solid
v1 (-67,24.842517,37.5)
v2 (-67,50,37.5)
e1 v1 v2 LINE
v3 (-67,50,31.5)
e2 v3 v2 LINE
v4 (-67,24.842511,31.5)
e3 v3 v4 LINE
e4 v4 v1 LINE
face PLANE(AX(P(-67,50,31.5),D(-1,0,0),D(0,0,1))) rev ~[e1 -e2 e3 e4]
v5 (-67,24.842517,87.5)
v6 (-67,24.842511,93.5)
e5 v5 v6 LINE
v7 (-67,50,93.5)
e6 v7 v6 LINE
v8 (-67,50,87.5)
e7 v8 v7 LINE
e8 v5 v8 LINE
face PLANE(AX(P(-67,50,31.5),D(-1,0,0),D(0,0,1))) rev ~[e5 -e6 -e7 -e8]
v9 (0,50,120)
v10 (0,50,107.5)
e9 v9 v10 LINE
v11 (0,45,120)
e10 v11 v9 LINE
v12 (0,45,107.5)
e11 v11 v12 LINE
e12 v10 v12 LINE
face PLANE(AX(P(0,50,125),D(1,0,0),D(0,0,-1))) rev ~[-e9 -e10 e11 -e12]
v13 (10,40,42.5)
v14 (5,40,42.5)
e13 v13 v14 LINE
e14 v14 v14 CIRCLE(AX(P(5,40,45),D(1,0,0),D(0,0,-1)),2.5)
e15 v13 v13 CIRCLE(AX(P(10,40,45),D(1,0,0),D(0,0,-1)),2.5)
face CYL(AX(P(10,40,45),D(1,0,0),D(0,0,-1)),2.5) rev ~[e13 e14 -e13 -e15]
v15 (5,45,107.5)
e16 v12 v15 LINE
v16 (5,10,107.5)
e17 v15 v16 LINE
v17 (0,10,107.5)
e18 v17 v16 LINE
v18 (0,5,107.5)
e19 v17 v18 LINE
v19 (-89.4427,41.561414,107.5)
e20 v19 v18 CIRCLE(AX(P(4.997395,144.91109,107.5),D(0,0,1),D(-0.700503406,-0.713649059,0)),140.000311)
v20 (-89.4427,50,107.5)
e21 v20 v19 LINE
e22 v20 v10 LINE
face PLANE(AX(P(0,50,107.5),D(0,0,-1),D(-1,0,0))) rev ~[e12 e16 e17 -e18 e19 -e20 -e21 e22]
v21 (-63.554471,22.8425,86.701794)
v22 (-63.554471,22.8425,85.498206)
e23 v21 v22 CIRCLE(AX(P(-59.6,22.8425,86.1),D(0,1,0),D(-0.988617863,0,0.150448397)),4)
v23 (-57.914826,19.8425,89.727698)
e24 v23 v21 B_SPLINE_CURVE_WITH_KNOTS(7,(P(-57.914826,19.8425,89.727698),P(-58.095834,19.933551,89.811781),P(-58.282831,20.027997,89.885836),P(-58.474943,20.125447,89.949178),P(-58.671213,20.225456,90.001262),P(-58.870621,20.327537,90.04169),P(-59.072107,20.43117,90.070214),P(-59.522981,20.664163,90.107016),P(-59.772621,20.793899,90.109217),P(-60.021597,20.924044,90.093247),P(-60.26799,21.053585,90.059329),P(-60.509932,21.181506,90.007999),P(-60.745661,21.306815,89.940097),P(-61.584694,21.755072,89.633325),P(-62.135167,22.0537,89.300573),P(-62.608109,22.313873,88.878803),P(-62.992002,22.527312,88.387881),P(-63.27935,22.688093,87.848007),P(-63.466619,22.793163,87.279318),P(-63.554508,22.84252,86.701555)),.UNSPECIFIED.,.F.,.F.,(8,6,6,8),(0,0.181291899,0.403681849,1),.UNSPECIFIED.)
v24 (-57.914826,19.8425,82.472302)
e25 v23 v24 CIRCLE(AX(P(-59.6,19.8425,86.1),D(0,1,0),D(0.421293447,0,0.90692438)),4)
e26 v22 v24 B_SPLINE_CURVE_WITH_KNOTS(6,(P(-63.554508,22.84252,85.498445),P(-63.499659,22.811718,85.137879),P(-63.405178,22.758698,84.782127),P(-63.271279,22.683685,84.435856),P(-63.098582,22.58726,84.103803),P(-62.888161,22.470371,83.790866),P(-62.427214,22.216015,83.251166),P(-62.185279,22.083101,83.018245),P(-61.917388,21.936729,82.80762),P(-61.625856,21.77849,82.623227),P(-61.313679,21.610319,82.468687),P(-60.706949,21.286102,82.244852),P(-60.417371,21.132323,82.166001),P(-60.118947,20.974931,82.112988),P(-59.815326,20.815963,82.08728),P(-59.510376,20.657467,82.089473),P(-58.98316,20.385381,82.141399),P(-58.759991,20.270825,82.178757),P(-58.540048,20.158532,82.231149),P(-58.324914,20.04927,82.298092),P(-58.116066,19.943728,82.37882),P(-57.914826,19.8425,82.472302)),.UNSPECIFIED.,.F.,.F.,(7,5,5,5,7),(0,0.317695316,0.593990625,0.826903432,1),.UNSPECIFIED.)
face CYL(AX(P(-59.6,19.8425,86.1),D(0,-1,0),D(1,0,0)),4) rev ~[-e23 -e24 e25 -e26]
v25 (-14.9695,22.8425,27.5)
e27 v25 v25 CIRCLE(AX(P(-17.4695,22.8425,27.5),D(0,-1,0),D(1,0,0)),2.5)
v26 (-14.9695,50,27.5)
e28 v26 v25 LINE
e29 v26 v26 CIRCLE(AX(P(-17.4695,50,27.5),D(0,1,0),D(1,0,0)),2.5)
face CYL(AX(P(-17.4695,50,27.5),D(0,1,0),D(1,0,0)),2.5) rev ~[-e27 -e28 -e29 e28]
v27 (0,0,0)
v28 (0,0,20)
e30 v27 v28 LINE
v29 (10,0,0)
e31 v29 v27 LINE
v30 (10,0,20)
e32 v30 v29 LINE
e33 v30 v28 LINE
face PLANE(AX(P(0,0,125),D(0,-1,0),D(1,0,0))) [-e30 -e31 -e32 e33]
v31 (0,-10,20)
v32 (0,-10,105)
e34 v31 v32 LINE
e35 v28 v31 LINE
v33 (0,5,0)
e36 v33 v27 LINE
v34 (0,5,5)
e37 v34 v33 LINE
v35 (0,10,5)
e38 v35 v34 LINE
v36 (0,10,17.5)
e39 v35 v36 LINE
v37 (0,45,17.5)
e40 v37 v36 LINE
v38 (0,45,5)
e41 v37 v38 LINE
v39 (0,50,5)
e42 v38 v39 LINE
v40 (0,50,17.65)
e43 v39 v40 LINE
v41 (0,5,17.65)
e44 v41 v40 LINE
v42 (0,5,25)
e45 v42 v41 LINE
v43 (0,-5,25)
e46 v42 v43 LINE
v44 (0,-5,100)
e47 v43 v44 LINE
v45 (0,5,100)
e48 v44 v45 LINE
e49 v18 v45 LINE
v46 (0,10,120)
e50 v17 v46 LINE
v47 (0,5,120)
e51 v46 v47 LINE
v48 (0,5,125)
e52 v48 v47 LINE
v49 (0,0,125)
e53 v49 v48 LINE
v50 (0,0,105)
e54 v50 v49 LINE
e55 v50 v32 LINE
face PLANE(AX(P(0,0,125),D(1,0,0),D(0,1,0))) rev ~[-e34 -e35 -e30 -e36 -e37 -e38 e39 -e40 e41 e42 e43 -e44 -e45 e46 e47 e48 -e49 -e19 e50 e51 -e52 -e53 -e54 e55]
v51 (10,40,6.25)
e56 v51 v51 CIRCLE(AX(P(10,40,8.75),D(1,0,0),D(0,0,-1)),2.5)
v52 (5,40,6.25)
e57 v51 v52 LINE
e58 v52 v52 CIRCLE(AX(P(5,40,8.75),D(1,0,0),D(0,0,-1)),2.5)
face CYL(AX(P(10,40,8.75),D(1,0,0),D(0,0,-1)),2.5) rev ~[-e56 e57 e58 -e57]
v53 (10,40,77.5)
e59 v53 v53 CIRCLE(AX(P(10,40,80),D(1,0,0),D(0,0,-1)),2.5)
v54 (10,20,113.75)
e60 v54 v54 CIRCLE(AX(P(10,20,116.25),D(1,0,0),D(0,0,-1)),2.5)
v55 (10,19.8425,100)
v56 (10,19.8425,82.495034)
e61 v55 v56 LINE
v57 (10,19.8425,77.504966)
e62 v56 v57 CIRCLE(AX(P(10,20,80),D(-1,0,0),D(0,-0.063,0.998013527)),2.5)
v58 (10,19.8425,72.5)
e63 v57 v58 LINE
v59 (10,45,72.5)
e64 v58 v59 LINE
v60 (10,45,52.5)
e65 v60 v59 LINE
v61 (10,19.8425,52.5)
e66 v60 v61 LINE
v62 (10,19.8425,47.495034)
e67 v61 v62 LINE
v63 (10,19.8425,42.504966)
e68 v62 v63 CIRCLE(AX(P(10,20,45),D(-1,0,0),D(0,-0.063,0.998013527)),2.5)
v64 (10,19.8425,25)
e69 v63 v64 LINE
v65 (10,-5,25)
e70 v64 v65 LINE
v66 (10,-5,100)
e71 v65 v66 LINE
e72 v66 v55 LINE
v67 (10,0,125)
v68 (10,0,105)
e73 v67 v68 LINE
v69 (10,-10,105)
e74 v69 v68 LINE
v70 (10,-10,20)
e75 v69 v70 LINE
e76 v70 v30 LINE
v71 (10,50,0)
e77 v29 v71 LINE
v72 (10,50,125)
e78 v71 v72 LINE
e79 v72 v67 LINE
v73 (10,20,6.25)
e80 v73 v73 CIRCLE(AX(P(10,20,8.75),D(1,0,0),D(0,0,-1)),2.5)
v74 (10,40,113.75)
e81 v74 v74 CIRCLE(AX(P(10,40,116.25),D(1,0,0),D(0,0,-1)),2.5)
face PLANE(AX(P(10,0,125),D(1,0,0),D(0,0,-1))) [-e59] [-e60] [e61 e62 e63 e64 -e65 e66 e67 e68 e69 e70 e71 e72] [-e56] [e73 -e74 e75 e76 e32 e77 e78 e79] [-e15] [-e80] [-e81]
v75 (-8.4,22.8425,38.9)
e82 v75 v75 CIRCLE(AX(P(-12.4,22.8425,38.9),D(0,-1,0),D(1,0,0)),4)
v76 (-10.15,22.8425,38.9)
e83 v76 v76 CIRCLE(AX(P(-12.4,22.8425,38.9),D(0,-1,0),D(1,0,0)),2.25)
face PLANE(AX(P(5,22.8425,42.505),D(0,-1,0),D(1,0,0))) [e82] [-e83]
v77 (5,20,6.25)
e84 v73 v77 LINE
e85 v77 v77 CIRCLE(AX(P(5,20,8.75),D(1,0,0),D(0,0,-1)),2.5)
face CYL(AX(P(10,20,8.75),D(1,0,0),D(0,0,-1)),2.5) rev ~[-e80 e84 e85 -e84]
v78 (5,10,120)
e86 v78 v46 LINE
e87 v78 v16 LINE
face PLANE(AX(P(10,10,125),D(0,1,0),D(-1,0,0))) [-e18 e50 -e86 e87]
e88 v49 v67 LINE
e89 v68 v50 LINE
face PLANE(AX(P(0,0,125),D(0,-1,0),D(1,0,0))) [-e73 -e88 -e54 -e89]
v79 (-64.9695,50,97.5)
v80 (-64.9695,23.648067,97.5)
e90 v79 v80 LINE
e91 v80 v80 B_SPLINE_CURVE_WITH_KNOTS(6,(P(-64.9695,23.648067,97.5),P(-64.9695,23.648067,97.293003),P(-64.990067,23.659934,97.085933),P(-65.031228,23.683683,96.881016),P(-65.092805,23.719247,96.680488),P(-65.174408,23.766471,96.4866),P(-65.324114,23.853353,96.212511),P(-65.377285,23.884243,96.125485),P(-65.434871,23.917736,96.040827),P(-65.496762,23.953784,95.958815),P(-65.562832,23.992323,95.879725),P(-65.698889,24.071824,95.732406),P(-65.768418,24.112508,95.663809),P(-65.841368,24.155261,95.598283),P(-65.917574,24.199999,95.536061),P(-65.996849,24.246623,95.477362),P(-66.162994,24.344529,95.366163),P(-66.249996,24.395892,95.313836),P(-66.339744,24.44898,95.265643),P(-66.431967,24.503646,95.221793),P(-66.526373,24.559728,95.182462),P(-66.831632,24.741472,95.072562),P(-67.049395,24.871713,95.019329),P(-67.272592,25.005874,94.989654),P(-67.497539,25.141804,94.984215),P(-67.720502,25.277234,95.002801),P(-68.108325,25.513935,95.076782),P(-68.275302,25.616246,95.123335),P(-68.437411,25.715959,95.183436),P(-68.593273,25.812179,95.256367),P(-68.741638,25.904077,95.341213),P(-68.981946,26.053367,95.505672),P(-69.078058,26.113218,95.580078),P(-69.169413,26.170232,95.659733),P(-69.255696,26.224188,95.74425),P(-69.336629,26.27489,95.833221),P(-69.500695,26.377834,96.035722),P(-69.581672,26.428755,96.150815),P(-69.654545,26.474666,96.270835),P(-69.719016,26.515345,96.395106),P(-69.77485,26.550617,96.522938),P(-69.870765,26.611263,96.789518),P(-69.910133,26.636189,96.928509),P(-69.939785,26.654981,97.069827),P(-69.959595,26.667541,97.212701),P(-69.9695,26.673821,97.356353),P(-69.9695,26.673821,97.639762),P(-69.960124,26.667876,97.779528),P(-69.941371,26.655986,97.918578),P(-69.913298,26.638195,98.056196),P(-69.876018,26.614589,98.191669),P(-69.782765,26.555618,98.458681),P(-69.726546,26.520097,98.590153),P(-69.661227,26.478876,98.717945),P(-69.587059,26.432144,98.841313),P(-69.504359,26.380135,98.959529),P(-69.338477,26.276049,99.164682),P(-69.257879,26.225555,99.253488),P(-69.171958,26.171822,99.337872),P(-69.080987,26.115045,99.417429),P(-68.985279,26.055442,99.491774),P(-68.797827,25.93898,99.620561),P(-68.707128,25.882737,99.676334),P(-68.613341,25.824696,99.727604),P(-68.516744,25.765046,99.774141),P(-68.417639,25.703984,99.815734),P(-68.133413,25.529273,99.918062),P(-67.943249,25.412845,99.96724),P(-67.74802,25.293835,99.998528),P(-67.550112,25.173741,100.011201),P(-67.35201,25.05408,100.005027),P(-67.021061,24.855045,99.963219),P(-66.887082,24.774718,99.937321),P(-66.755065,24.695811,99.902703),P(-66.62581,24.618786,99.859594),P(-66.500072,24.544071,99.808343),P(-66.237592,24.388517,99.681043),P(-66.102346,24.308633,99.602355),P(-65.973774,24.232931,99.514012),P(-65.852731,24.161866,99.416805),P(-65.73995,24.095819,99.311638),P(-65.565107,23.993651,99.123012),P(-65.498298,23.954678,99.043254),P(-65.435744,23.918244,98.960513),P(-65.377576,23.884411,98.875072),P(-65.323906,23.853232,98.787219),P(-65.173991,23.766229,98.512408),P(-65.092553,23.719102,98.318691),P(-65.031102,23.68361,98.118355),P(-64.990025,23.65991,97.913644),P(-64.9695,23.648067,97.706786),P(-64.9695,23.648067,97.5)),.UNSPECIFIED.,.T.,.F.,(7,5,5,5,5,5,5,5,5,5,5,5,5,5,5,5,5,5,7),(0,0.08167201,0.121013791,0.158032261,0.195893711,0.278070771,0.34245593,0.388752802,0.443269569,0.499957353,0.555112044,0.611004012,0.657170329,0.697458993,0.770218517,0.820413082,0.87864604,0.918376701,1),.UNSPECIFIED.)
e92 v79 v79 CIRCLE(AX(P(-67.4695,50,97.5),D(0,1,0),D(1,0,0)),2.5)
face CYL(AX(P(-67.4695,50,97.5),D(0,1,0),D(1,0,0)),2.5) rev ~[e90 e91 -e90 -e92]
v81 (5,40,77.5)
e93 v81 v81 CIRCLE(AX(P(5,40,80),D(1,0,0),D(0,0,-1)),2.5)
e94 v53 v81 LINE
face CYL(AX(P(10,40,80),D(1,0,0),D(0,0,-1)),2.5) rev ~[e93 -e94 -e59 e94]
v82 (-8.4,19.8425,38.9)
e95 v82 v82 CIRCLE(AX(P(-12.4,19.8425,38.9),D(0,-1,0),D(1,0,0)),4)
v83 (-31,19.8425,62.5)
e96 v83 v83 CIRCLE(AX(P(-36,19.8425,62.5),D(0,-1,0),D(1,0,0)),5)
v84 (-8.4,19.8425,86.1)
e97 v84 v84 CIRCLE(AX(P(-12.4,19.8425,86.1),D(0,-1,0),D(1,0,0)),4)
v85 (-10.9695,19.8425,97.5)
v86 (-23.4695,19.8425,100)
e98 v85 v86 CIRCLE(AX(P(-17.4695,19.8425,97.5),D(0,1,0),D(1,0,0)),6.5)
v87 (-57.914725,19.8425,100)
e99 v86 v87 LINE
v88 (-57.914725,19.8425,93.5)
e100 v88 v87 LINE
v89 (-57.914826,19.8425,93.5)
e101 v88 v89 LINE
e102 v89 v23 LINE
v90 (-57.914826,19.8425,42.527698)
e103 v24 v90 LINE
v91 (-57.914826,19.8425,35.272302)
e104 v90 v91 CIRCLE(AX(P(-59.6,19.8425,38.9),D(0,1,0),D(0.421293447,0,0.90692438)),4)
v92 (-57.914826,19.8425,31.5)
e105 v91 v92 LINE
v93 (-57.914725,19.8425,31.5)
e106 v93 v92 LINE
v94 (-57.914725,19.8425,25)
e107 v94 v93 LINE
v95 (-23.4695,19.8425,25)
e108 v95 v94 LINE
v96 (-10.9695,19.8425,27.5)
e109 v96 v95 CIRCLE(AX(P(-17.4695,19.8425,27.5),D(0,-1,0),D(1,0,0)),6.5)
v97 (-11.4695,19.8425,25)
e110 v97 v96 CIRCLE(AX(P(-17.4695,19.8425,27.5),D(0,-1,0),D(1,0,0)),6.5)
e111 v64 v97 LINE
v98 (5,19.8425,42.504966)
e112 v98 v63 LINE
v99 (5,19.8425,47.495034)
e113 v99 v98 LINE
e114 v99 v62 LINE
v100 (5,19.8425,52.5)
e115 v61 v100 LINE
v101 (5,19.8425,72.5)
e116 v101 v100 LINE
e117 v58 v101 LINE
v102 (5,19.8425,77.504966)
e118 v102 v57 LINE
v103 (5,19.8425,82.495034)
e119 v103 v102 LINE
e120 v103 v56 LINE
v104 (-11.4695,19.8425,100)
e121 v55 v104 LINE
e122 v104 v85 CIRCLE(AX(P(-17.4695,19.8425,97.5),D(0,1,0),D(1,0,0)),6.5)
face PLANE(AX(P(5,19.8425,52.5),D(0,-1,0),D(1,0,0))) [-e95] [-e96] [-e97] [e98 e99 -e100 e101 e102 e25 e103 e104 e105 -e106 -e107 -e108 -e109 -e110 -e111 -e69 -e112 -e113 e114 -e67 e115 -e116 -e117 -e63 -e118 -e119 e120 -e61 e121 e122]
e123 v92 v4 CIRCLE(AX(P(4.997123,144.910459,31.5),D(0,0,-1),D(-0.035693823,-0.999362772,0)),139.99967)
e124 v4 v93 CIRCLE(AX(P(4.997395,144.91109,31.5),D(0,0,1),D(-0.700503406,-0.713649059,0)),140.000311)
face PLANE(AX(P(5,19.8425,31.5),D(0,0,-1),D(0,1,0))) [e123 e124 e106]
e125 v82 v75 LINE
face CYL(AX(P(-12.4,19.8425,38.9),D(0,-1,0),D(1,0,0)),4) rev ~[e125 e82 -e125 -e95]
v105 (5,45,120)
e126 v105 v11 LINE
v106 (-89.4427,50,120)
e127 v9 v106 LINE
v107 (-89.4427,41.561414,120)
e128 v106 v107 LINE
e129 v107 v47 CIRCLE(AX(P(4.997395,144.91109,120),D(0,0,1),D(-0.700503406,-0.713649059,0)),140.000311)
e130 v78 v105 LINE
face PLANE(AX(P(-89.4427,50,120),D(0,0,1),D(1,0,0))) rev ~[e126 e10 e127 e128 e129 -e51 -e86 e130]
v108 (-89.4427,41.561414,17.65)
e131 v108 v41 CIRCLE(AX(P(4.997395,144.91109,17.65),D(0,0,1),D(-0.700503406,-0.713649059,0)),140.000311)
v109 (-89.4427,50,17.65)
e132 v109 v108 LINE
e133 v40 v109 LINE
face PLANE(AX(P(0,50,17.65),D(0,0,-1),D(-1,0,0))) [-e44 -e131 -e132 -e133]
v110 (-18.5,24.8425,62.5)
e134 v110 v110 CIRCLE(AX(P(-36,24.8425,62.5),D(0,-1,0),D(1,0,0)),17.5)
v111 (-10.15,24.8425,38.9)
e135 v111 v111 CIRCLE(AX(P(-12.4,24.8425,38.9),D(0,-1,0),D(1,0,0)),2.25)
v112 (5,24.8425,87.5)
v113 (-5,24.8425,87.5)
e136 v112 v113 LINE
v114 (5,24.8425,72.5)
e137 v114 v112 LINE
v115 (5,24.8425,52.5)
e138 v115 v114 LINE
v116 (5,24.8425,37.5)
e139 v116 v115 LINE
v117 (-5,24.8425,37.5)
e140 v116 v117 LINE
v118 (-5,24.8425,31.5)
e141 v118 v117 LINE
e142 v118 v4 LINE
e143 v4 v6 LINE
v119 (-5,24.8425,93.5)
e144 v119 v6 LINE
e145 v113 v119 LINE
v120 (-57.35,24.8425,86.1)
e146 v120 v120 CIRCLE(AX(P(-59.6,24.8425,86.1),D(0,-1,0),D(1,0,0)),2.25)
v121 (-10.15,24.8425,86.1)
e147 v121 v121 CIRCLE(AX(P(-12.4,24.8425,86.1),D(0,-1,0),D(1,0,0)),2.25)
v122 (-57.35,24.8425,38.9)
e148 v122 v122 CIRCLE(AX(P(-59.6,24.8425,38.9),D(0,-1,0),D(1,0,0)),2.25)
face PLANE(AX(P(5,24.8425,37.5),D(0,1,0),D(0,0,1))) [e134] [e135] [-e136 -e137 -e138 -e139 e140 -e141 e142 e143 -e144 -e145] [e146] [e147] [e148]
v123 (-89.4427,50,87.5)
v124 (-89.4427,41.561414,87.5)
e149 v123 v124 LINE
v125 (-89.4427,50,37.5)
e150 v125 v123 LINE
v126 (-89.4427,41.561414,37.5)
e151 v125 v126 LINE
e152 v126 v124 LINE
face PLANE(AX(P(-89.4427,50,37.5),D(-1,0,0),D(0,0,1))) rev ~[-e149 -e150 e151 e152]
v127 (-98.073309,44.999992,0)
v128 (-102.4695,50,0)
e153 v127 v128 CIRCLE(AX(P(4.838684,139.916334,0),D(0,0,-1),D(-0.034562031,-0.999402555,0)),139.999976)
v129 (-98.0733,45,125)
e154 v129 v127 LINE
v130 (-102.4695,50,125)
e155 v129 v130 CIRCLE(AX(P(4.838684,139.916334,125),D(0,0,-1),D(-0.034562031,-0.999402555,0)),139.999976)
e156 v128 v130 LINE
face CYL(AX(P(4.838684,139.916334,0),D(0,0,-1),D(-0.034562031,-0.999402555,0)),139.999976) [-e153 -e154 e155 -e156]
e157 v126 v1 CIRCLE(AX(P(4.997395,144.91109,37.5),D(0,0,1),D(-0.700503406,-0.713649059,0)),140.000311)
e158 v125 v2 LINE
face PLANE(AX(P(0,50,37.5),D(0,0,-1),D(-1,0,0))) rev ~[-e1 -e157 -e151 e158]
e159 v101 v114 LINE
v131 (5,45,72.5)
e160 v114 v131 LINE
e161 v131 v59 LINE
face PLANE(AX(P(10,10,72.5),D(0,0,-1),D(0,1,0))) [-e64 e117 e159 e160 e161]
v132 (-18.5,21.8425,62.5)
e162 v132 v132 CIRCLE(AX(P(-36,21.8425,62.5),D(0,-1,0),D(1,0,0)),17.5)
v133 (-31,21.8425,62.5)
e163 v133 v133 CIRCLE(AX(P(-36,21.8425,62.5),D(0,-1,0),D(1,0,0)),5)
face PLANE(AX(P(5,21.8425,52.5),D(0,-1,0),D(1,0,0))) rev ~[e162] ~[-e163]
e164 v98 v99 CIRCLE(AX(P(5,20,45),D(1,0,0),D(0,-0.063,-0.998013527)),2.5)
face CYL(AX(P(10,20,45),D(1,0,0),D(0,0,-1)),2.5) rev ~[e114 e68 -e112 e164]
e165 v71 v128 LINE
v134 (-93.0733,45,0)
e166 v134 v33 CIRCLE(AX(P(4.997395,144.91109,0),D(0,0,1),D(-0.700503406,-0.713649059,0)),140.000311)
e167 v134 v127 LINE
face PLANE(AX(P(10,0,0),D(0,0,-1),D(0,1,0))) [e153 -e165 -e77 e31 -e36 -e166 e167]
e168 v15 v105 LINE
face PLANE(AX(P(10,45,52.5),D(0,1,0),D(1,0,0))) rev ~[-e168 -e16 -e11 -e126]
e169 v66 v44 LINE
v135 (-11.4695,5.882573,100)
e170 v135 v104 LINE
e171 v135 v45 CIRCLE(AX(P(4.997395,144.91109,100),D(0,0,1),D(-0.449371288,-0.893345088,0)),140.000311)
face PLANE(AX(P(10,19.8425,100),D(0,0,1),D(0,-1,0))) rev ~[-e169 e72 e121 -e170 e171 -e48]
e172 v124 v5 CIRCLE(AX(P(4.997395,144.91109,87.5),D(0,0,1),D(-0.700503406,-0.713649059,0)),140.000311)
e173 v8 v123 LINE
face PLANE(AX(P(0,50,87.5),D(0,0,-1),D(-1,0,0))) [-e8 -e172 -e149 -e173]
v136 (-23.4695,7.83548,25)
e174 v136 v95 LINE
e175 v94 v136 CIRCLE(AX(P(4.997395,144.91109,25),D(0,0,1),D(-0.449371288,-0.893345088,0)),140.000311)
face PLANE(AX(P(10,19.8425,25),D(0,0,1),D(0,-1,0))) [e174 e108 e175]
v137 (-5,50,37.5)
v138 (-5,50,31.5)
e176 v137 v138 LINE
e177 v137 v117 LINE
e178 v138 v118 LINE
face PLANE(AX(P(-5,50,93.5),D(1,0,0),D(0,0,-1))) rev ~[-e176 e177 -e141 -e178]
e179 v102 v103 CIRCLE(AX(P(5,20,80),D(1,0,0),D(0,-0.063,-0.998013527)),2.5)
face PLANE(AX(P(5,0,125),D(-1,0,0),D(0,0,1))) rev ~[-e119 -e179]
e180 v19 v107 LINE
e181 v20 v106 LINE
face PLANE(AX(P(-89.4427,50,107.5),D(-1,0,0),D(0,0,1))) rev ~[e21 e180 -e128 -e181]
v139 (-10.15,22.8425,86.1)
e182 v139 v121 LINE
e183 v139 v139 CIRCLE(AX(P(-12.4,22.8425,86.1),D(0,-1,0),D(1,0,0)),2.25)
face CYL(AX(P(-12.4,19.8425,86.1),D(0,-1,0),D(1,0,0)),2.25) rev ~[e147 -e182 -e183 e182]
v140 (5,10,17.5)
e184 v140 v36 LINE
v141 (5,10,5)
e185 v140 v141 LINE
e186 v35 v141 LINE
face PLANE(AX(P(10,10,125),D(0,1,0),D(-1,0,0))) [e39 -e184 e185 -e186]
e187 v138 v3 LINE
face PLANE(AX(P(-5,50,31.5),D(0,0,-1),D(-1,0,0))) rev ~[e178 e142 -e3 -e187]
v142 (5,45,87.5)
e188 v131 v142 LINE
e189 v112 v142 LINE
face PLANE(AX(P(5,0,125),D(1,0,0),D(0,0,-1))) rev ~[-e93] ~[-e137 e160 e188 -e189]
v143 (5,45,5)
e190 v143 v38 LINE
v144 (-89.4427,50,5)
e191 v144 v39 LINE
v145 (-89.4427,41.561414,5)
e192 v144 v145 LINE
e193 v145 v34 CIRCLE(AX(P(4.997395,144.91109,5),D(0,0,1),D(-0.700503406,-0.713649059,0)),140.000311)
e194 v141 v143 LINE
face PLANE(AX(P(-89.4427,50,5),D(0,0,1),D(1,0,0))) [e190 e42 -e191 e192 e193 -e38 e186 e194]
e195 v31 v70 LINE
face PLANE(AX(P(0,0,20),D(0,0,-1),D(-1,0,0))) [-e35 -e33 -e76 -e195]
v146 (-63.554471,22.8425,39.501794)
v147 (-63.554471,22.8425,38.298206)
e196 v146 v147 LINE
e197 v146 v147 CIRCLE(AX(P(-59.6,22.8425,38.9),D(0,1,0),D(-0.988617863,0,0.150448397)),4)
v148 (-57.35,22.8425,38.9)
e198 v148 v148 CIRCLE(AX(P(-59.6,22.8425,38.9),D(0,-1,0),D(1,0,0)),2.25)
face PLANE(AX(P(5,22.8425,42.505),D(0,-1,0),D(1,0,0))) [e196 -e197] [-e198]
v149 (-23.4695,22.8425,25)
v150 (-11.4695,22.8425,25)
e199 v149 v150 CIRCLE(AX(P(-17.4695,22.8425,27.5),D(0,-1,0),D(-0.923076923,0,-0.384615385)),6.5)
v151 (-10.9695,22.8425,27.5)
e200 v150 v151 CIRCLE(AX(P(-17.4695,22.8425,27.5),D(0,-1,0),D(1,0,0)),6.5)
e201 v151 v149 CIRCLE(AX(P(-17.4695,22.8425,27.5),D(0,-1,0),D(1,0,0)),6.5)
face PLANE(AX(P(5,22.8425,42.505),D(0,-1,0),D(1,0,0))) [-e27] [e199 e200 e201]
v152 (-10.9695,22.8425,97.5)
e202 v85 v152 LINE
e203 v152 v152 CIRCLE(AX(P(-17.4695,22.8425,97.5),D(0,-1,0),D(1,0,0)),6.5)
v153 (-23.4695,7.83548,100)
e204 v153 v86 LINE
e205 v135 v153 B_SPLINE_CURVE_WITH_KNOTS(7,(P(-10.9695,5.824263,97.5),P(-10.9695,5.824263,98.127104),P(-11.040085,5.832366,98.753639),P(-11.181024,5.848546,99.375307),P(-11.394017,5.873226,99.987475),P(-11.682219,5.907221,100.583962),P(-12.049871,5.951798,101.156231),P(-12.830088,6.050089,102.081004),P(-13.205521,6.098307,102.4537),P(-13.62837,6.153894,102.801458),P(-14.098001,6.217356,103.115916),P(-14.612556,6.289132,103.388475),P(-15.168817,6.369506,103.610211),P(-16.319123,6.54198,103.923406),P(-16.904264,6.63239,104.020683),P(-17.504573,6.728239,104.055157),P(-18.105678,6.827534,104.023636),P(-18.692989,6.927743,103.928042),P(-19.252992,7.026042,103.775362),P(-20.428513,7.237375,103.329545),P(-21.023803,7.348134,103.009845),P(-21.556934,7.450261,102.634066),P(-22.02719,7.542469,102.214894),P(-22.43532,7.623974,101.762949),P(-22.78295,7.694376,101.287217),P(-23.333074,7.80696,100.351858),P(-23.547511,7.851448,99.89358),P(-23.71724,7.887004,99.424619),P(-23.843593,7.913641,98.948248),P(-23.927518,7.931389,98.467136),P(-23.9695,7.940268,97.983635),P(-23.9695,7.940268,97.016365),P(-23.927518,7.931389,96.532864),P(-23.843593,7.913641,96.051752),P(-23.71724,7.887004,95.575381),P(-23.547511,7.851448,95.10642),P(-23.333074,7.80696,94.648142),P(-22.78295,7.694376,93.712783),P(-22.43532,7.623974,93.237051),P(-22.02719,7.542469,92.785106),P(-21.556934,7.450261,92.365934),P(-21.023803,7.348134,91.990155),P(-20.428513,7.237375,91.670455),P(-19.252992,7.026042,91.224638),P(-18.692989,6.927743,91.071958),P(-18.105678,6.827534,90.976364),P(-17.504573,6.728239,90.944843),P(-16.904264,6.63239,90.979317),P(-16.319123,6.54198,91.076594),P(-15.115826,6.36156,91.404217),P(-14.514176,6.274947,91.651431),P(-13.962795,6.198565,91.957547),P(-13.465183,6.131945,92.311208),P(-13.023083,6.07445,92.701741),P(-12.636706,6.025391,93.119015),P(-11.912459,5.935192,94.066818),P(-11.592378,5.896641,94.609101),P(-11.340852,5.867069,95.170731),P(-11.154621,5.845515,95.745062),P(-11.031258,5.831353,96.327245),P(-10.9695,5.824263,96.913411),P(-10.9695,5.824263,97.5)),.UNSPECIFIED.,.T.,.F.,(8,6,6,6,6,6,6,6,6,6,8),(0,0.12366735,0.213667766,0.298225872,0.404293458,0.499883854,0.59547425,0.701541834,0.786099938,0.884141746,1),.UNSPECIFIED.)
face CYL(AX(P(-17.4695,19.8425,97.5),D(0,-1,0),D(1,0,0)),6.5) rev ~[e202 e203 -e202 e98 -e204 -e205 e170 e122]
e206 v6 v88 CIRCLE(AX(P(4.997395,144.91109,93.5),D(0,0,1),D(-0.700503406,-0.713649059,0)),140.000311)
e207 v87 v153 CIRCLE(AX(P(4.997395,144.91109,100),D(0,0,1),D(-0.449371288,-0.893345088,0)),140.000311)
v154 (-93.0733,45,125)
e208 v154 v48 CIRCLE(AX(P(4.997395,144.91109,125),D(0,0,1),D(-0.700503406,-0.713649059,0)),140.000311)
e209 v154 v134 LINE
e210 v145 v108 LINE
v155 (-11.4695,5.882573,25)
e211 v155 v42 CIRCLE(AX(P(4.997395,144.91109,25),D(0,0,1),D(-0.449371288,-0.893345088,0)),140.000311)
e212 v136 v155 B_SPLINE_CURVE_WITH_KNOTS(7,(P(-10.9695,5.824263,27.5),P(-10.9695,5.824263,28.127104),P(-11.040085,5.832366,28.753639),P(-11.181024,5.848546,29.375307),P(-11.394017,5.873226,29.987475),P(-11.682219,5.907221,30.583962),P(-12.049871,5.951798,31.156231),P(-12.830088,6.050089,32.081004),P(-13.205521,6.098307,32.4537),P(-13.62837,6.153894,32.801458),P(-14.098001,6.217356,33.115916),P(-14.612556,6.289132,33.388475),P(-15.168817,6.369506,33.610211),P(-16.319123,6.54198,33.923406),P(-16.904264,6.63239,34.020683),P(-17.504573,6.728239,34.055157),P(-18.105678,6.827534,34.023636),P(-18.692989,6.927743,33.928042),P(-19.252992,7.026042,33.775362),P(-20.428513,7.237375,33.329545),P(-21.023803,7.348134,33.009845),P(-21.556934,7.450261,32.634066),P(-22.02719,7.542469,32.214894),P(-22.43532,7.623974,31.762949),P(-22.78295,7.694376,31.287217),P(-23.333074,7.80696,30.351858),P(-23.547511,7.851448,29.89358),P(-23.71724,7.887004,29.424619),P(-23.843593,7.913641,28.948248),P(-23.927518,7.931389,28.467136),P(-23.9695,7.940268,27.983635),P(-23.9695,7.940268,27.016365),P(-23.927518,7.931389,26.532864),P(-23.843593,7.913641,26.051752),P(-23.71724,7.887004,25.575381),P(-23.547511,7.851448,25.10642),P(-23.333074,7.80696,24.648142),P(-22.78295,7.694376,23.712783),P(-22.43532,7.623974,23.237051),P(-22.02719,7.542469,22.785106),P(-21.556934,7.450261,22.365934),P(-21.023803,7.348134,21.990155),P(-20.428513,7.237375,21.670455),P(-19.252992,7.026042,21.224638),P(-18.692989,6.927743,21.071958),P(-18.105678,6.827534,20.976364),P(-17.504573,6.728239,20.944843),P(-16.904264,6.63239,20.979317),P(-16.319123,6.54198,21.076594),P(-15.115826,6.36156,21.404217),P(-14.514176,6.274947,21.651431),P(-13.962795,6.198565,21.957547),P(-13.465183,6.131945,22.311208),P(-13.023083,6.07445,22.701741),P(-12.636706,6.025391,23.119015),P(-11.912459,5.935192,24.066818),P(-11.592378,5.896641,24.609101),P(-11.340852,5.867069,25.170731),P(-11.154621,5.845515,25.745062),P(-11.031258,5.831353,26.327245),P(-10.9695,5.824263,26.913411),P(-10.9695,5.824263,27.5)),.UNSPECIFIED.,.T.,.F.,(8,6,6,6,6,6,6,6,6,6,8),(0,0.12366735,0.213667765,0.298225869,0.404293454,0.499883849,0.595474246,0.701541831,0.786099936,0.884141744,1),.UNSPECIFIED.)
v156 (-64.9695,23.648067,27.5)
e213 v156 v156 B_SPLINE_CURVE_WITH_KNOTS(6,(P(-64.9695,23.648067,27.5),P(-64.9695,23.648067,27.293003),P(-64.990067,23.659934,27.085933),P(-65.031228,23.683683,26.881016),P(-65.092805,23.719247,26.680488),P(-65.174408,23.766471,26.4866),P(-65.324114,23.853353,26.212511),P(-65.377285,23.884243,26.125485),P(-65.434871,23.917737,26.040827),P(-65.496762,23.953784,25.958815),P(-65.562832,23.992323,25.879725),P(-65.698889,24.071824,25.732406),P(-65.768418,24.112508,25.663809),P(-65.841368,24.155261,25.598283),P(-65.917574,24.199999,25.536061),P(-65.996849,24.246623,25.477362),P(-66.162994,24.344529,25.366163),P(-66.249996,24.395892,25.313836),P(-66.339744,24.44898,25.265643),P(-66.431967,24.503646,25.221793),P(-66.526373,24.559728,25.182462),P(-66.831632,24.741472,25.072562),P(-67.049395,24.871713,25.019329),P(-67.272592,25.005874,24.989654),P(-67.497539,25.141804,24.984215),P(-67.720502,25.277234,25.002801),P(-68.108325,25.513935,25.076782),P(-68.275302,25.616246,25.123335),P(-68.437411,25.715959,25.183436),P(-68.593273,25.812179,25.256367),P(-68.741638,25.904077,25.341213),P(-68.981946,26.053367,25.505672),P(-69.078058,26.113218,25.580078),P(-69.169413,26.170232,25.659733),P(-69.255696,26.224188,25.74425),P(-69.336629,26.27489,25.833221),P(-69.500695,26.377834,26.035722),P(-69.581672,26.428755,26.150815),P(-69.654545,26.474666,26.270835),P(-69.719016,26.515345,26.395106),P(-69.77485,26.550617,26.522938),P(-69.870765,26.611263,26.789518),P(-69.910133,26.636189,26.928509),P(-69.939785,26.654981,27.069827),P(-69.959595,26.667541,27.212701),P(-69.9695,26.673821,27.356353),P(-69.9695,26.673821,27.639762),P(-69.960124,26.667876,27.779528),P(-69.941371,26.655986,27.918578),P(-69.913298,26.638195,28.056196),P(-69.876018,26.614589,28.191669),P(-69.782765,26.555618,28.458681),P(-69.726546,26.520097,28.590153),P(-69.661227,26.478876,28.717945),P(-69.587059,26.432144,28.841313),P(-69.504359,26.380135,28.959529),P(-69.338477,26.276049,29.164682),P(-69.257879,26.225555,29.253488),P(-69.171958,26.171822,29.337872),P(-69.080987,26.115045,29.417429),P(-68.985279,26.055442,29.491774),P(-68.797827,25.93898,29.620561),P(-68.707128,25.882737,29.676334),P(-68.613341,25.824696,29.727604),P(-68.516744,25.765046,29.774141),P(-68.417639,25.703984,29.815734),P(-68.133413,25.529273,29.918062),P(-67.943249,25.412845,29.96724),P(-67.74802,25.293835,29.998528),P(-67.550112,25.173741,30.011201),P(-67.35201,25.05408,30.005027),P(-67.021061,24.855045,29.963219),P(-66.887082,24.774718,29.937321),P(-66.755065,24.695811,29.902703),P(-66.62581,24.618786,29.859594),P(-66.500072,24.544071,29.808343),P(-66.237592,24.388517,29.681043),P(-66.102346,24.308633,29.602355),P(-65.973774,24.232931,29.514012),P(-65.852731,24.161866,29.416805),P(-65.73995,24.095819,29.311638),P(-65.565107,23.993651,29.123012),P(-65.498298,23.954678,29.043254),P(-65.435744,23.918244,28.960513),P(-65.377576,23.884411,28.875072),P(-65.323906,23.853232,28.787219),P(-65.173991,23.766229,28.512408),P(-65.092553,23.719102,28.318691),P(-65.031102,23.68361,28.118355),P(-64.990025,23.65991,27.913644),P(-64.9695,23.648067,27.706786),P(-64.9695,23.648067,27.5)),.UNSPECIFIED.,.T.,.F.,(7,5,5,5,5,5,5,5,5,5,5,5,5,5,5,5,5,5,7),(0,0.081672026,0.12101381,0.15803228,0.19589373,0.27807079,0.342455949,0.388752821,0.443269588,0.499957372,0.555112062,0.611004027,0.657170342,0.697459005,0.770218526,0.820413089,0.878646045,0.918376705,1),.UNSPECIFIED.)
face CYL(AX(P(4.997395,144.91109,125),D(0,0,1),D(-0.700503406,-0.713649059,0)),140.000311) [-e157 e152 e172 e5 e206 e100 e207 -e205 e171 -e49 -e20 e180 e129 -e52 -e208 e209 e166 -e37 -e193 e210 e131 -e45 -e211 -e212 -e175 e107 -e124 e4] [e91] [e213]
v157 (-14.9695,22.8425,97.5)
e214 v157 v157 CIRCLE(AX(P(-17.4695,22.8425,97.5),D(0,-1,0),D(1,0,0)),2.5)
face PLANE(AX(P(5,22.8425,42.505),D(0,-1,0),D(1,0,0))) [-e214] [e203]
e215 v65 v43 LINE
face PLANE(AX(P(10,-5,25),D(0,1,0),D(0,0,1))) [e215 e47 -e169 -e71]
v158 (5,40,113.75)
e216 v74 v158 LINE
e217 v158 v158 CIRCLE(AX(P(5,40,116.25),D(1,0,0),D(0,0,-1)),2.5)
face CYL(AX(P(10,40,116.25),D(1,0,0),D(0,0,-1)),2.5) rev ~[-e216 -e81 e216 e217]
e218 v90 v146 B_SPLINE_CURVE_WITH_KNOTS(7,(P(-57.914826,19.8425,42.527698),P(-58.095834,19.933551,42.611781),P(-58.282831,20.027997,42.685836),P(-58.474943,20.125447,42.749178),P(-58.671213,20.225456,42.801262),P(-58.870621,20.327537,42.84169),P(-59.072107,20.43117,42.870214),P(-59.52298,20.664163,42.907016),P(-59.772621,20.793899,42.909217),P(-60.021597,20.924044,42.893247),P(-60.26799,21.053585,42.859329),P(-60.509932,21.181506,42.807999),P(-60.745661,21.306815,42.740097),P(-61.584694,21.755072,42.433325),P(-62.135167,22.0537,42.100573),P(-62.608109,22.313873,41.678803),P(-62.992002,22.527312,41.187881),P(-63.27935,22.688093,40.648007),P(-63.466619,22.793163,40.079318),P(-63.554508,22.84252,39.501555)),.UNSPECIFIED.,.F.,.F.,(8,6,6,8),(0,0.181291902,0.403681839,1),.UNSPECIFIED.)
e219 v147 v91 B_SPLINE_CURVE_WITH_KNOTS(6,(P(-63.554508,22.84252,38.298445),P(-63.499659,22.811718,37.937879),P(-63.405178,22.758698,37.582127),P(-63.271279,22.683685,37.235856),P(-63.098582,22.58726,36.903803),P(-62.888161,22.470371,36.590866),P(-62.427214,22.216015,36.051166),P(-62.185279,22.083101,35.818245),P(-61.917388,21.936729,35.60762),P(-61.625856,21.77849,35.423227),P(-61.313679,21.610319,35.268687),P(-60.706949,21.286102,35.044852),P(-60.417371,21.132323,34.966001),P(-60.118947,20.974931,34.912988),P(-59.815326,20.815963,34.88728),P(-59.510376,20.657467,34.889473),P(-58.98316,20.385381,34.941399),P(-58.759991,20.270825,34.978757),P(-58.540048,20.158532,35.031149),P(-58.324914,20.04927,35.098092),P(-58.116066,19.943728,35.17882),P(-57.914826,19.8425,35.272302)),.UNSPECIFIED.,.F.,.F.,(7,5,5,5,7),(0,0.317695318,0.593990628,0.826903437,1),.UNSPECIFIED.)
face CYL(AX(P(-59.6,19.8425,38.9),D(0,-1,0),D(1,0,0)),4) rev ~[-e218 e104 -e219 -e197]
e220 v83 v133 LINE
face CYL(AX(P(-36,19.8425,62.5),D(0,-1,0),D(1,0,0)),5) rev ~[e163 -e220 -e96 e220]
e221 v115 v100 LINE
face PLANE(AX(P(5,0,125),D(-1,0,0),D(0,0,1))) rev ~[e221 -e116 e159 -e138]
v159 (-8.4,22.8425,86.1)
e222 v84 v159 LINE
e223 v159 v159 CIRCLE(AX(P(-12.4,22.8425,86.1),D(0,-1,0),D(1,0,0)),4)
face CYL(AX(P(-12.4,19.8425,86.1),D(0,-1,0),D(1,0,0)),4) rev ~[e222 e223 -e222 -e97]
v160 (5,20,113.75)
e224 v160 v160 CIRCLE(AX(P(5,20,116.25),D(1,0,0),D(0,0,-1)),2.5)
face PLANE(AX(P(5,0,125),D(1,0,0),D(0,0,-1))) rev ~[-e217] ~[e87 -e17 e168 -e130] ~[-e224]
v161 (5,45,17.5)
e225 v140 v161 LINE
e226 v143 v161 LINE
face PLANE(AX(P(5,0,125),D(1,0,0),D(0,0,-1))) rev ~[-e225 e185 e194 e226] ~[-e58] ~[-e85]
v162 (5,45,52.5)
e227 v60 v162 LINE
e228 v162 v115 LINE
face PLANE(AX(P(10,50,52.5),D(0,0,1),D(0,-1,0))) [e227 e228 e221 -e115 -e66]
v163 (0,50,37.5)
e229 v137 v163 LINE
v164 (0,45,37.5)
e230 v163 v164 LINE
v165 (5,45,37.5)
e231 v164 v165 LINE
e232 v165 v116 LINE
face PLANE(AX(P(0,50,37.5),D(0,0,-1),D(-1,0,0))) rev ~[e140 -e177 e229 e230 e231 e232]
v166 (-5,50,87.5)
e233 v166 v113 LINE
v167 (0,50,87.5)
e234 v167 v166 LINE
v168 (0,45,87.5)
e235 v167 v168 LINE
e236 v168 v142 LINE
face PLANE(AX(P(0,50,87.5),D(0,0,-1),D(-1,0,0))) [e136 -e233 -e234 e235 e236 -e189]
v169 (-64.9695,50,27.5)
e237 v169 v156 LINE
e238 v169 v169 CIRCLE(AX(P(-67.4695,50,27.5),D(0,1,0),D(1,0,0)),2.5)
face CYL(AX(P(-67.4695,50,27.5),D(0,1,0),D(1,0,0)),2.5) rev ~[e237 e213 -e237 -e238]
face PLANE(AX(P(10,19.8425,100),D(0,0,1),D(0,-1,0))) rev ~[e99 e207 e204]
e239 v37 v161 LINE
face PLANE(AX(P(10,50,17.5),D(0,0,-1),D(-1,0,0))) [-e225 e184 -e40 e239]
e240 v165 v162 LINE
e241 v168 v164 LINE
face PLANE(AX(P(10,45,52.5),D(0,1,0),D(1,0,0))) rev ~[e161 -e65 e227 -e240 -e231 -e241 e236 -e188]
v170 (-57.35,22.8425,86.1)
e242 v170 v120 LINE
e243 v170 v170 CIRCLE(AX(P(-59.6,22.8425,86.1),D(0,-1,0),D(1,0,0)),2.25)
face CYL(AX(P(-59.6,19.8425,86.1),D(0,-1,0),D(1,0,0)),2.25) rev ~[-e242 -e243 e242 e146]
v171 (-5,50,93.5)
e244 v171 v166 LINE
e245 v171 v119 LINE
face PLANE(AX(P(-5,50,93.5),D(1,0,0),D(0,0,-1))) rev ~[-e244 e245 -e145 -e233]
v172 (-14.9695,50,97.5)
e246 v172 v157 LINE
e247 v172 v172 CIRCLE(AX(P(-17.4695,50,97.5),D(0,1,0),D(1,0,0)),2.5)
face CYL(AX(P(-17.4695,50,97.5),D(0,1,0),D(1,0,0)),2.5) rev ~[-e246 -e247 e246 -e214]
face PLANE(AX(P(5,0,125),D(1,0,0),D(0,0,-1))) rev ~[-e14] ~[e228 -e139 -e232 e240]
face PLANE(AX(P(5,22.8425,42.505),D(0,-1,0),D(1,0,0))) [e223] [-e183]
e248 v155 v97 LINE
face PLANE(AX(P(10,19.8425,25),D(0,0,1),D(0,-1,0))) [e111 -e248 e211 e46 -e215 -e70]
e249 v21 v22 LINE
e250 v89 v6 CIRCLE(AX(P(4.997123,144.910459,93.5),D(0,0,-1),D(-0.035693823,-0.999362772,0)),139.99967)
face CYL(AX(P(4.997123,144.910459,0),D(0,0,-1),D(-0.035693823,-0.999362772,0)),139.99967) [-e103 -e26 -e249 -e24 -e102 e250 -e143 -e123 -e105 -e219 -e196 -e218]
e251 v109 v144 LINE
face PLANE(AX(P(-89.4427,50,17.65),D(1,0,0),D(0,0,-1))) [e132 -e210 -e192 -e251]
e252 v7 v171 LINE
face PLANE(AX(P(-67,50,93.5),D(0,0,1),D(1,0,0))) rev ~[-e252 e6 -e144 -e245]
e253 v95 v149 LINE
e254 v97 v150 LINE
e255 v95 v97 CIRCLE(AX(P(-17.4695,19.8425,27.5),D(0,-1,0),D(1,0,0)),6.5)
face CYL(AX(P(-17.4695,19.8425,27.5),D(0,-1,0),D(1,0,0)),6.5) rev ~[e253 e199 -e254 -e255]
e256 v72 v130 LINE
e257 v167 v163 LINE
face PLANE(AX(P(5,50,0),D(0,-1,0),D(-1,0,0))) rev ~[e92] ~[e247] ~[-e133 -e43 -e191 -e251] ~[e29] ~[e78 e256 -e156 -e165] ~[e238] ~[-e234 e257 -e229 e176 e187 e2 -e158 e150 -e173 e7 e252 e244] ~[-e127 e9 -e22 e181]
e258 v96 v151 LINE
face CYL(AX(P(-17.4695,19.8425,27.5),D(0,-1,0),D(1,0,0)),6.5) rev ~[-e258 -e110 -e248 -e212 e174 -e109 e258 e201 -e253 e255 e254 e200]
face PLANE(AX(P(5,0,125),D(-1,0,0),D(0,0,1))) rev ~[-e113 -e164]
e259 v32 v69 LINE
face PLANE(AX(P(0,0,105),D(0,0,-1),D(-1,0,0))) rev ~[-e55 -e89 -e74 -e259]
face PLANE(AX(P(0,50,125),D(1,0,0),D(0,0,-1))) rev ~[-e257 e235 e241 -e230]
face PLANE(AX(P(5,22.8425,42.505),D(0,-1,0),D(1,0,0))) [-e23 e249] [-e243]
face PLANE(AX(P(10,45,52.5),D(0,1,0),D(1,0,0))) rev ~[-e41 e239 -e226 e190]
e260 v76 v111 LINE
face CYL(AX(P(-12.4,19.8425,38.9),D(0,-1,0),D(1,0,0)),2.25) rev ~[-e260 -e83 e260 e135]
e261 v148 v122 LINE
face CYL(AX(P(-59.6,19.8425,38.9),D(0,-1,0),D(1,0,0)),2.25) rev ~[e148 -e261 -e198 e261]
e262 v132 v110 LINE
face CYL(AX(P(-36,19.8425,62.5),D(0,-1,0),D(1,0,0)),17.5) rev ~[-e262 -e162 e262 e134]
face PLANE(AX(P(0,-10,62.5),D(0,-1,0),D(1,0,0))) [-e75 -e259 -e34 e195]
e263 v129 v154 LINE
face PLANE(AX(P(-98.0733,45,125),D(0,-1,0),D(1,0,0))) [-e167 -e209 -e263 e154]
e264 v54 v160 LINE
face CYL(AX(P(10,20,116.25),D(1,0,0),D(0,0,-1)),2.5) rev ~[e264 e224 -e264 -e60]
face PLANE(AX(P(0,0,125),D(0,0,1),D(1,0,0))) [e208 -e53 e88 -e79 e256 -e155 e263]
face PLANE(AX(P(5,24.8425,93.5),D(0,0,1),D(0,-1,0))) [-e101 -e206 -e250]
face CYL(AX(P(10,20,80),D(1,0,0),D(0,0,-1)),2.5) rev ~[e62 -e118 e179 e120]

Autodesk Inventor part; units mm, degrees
ref_plane "YZ Plane" through (0, 0, 0) normal (1, 0, 0) x (0, 1, 0)
ref_plane "XZ Plane" through (0, 0, 0) normal (0, 1, 0) x (-1, 0, 0)
sketch "Sketch3" plane through (0, 0, 0) normal (0, 0, 1) x (1, 0, 0)
  circle A0 centre (0, 130) radius 130 construction
  line L0 (0, 0) -> (0, 10)
  circle A1 centre (0, 130) radius 120 construction
  line L1 (0, 0) -> (0, 50) construction
  line L2 (0, 50) -> (-102.4695, 50) construction
  arc A2 (-102.4695, 50) -> (0, 0) centre (0, 130) ccw
  arc A3 (-89.4427, 50) -> (0, 10) centre (0, 130) ccw
  line L3 (-102.4695, 50) -> (-89.4427, 50)
  dimension "d11" = 260
  dimension "d12" = 10
  dimension "d13" = 10
  dimension "d14" = 50
extrude "Extrusion2" add sketch "Sketch3" along normal blind 125
sketch "Sketch11" plane through (0, 0, 125) normal (0, 0, 1) x (1, 0, 0)
  line L0 (0, 0) -> (10, 0)
  line L1 (10, 0) -> (10, 10)
  line L2 (10, 10) -> (0, 10)
  line L3 (0, 10) -> (0, 0)
  dimension "d53" = 10
  dimension "d54" = 10
extrude "Extrusion9" add sketch "Sketch11" against normal blind 125
sketch "Sketch12" plane through (10, 0, 125) normal (1, 0, 0) x (0, 0, -1)
  line L0 (0, 50) -> (0, 0) projected
  line L1 (125, 50) -> (0, 50) projected
  line L2 (0, 0) -> (125, 0)
  line L3 (125, 0) -> (125, 50)
  line L4 (125, 50) -> (0, 50)
  line L5 (0, 50) -> (0, 0)
extrude "Extrusion10" add sketch "Sketch12" against normal blind 5
sketch "Sketch13" plane through (0, 0, 125) normal (0, 0, 1) x (1, 0, 0)
  line L0 (5, 10) -> (0, 10) projected
  arc A0 (-89.4427, 50) -> (0, 10) centre (0, 130) ccw projected
  line L1 (-89.4427, 50) -> (-102.4695, 50) projected
  arc A1 (-102.4695, 50) -> (0, 0) centre (0, 130) ccw projected
  line L2 (0, 0) -> (10, 0) projected
  line L3 (10, 0) -> (10, 50) projected
  line L4 (10, 50) -> (5, 50) projected
  line L5 (5, 10) -> (5, 50) projected
  line L6 (-89.4427, 50) -> (-102.4695, 50) projected
  line L7 (-102.4695, 50) -> (10, 50)
  line L8 (10, 0) -> (10, 50) projected
  line L9 (0, 0) -> (10, 0) projected
  line L10 (10, 0) -> (0, 0)
  arc A2 (-102.4695, 50) -> (0, 0) centre (0, 130) ccw
  line L11 (10, 50) -> (10, 0)
extrude "Extrusion11" add sketch "Sketch13" against normal blind 5 contours L0 A0 L7 L5
sketch "Sketch14" plane through (0, 0, 0) normal (0, 0, -1) x (-1, 0, 0)
  arc A0 (0, 0) -> (102.4695, 50) centre (0, 130) ccw projected
  line L0 (89.4427, 50) -> (102.4695, 50) projected
  arc A1 (0, 10) -> (89.4427, 50) centre (0, 130) ccw projected
  line L1 (-5, 50) -> (89.4427, 50)
  line L2 (-10, 50) -> (102.4695, 50) projected
  line L3 (-5, 10) -> (-5, 50) projected
  line L4 (-5, 10) -> (-5, 50)
  line L5 (0, 10) -> (-5, 10) projected
  line L6 (-5, 10) -> (0, 10)
  arc A2 (0, 10) -> (89.4427, 50) centre (0, 130) ccw projected
  arc A3 (0, 10) -> (89.4427, 50) centre (0, 130) ccw
  line L7 (-10, 0) -> (0, 0) projected
  line L8 (0, 10) -> (-5, 10) projected
  line L9 (-5, 50) -> (-5, 10) projected
  line L10 (-10, 50) -> (-5, 50) projected
  line L11 (-10, 0) -> (-10, 50) projected
extrude "Extrusion12" add sketch "Sketch14" against normal blind 5 contours A1 L5 L3 L1
sketch "Sketch15" plane through (10, 50, 125) normal (1, 0, 0) x (0, 0, -1)
  line L0 (0, -50) -> (0, 0) construction
  line L1 (0, -50) -> (125, -50) construction
  line L2 (0, 0) -> (20, 0) construction
  line L3 (20, 0) -> (20, -50) construction
  line L4 (20, -50) -> (0, -50) construction
  line L5 (0, -50) -> (0, 0) construction
  line L6 (125, 0) -> (0, 0) construction
  line L7 (37.5, 0) -> (52.5, 0) construction
  line L8 (52.5, 0) -> (52.5, -50) construction
  line L9 (52.5, -50) -> (37.5, -50) construction
  line L10 (37.5, -50) -> (37.5, 0) construction
  line L11 (72.5, 0) -> (87.5, 0) construction
  line L12 (87.5, 0) -> (87.5, -50) construction
  line L13 (87.5, -50) -> (72.5, -50) construction
  line L14 (72.5, -50) -> (72.5, 0) construction
  line L15 (125, -50) -> (125, 0) construction
  line L16 (125, 0) -> (105, 0) construction
  line L17 (105, 0) -> (105, -50) construction
  line L18 (105, -50) -> (125, -50) construction
  line L19 (125, -50) -> (125, 0) construction
  circle A0 centre (8.75, -10) radius 2.5
  circle A1 centre (8.75, -30) radius 2.5
  circle A2 centre (45, -10) radius 2.5
  circle A3 centre (45, -30) radius 2.5
  circle A4 centre (80, -10) radius 2.5
  circle A5 centre (80, -30) radius 2.5
  circle A6 centre (116.25, -10) radius 2.5
  circle A7 centre (116.25, -30) radius 2.5
  dimension "d63" = 20
  dimension "d64" = 15
  dimension "d65" = 20
  dimension "d66" = 15
  dimension "d69" = 5
  dimension "d70" = 5
  dimension "d71" = 5
  dimension "d72" = 5
  dimension "d73" = 5
  dimension "d74" = 5
  dimension "d75" = 5
  dimension "d76" = 5
  dimension "d77" = 8.75
  dimension "d78" = 8.75
  dimension "d79" = 7.5
  dimension "d80" = 7.5
  dimension "d81" = 10
  dimension "d82" = 20
  dimension "d114" = 36.25
  dimension "d115" = 36.25
extrude "Extrusion13" cut sketch "Sketch15" against normal blind 5
sketch "Sketch16" plane through (-102.4695, 50, 125) normal (0, 1, 0) x (1, 0, 0)
  line L0 (112.4695, 125) -> (112.4695, 0) projected
  line L1 (0, 125) -> (0, 0) projected
  line L2 (112.4695, 107.5) -> (0, 107.5)
  line L3 (0, 107.5) -> (0, 87.5)
  line L4 (0, 87.5) -> (112.4695, 87.5)
  line L5 (112.4695, 87.5) -> (112.4695, 107.5)
  line L6 (112.4695, 37.5) -> (0, 37.5)
  line L7 (0, 37.5) -> (0, 17.5)
  line L8 (0, 17.5) -> (112.4695, 17.5)
  line L9 (112.4695, 17.5) -> (112.4695, 37.5)
  line L10 (112.4695, 125) -> (0, 125) projected
  line L11 (0, 0) -> (102.4695, 0) projected
  point P0 (102.4695, 125)
  dimension "d85" = 20
  dimension "d87" = 20
  dimension "d88" = 17.5
  dimension "d89" = 17.5
extrude "Extrusion14" add sketch "Sketch16" against normal blind 50 contours L0 L4 L1 L2 | L0 L8 L1 L6
sketch "Sketch19" plane through (10, 0, 125) normal (1, 0, 0) x (0, 0, -1)
  line L0 (52.5, 50) -> (72.5, 50)
  line L1 (72.5, 50) -> (72.5, 10)
  line L2 (72.5, 10) -> (52.5, 10)
  line L3 (52.5, 10) -> (52.5, 50)
  line L4 (0, 0) -> (0, 50) projected
  line L5 (125, 50) -> (0, 50) projected
  point P0 (125, 0)
  dimension "d95" = 20
  dimension "d96" = 52.5
  dimension "d97" = 40
extrude "Extrusion16" cut sketch "Sketch19" against normal blind 5
sketch "Sketch20" plane through (0, 0, 0) normal (0, 0, -1) x (-1, 0, 0)
  line L0 (0, 0) -> (-10, 0) projected
  arc A0 (0, 0) -> (102.4695, 50) centre (-4.8387, 139.9164) ccw
  line L1 (102.4695, 0) -> (0, 0) projected
  line L2 (0, 0) -> (102.4695, 0)
  line L3 (102.4695, 50) -> (102.4695, 0) projected
  line L4 (102.4695, 0) -> (102.4695, 50)
  line L5 (102.4695, 50) -> (102.4695, 0)
  dimension "d100" = 140
extrude "Extrusion17" cut sketch "Sketch20" against normal through all
sketch "Sketch21" plane through (-102.4695, 50, 125) normal (0, 1, 0) x (1, 0, 0)
  circle A0 centre (85, 27.5) radius 2.5
  circle A1 centre (35, 27.5) radius 2.5
  circle A2 centre (85, 97.5) radius 2.5
  circle A3 centre (35, 97.5) radius 2.5
  line L0 (102.4695, 17.5) -> (102.4695, 5) projected
  line L1 (13.0268, 17.5) -> (107.4695, 17.5) projected
  line L2 (13.0268, 87.5) -> (107.4695, 87.5) projected
  line L3 (0, 125) -> (0, 0) projected
  dimension "d103" = 5
  dimension "d104" = 5
  dimension "d105" = 5
  dimension "d106" = 5
  dimension "d108" = 50
  dimension "d109" = 10
  dimension "d110" = 10
  dimension "d113" = 35
extrude "Extrusion18" cut sketch "Sketch21" against normal through all
sketch "Sketch23" plane through (0, 0, 125) normal (0, 0, 1) x (1, 0, 0)
  line L0 (0, 0) -> (0, 5)
  arc A0 (-98.0733, 45) -> (0, 0) centre (4.8387, 139.9164) ccw
  line L1 (-98.0733, 45) -> (-93.0733, 45)
  arc A1 (-93.0733, 45) -> (0, 5) centre (4.9972, 144.9108) ccw
  arc A2 (-102.4695, 50) -> (0, 0) centre (4.8387, 139.9164) ccw projected
  dimension "d118" = 5
  dimension "d119" = 5
  dimension "d120" = 5
  dimension "d122" = 140
  dimension "d123" = 140
extrude "Extrusion20" cut sketch "Sketch23" against normal through all
sketch "Sketch24" plane through (-89.4427, 50, 87.5) normal (0, 1, 0) x (1, 0, 0)
  line L0 (0, 82.5) -> (0, 70) projected
  line L1 (89.4427, -37.5) -> (89.4427, 87.5) projected
  line L2 (0, 82.5) -> (89.4427, 82.5)
  line L3 (89.4427, 82.5) -> (89.4427, 69.85)
  line L4 (89.4427, 69.85) -> (0, 69.85)
  line L5 (0, 69.85) -> (0, 82.5)
  line L6 (94.4427, 0) -> (0, 0) projected
  line L7 (89.4427, 50) -> (89.4427, 0) projected
  line L8 (0, 0) -> (89.4427, 0)
  line L9 (89.4427, 0) -> (89.4427, 50)
  line L10 (89.4427, 50) -> (0, 50)
  line L11 (0, 50) -> (0, 0)
  line L12 (0, -32.5) -> (94.4427, -32.5) projected
  line L13 (94.4427, -20) -> (89.4427, -20) projected
  line L14 (0, -32.5) -> (89.4427, -32.5)
  line L15 (89.4427, -32.5) -> (89.4427, -20)
  line L16 (89.4427, -20) -> (0, -20)
  line L17 (0, -20) -> (0, -32.5)
extrude "Extrusion21" cut sketch "Sketch24" against normal through all
ref_plane "Work Plane1" through (0, 0, 62.5) normal (0, 0, -1) x (-1, 0, 0)
sketch "Sketch27" plane through (0, 0, 62.5) normal (0, 0, -1) x (-1, 0, 0)
  line L0 (-10, 0) -> (-10, 50) projected
  line L1 (-10, 0) -> (0, 0)
  line L2 (0, 0) -> (0, -10)
  line L3 (0, -10) -> (-10, -10)
  line L4 (-10, -10) -> (-10, 0)
  point P0 (0, 0)
  dimension "d129" = 10
  dimension "d130" = 10
extrude "Extrusion22" add sketch "Sketch27" along normal mid plane 85
sketch "Sketch28" plane through (10, 50, 52.5) normal (0, 1, 0) x (1, 0, 0)
  line L0 (-77, -41) -> (-15, -41)
  line L1 (-15, -41) -> (-15, 21)
  line L2 (-15, 21) -> (-77, 21)
  line L3 (-77, 21) -> (-77, -41)
  line L4 (0, 52.5) -> (0, 0) projected
  line L5 (0, 0) -> (0, -20) projected
  point P0 (-10, 52.5)
  point P1 (-15, -10)
  point P2 (0, -10)
  dimension "d133" = 62
  dimension "d134" = 62
  dimension "d135" = 15
extrude "Extrusion23" cut sketch "Sketch28" against normal through all
sketch "Sketch29" plane through (5, 0, 125) normal (-1, 0, 0) x (0, 0, 1)
  line L0 (-93.5, 24.8425) -> (-87.5, 24.8425) projected
  line L1 (-37.5, 24.8425) -> (-31.5, 24.8425) projected
  line L2 (-93.5, 24.8425) -> (-31.5, 24.8425)
  line L3 (-31.5, 24.8425) -> (-31.5, 19.8425)
  line L4 (-31.5, 19.8425) -> (-93.5, 19.8425)
  line L5 (-93.5, 19.8425) -> (-93.5, 24.8425)
  point P0 (-125, 0)
  dimension "d138" = 62
  dimension "d143" = 5
extrude "Extrusion24" add sketch "Sketch29" along normal blind 72
sketch "Sketch30" plane through (5, 19.8425, 52.5) normal (0, -1, 0) x (1, 0, 0)
  line L0 (-17.4, 33.6) -> (-64.6, 33.6) construction
  line L1 (-64.6, 33.6) -> (-64.6, -13.6) construction
  line L2 (-64.6, -13.6) -> (-17.4, -13.6) construction
  line L3 (-17.4, -13.6) -> (-17.4, 33.6) construction
  line L4 (-72, -21) -> (-10, -21) construction
  line L5 (-10, -21) -> (-10, 41) construction
  line L6 (-10, 41) -> (-72, 41) construction
  line L7 (-72, 41) -> (-72, -21) construction
  line L8 (5, -52.5) -> (5, 0) construction
  line L9 (0, 0) -> (0, 20) construction
  circle A0 centre (-41, 10) radius 17.5
  circle A1 centre (-17.4, -13.6) radius 2.25
  circle A2 centre (-64.6, -13.6) radius 2.25
  circle A3 centre (-64.6, 33.6) radius 2.25
  circle A4 centre (-17.4, 33.6) radius 2.25
  point P0 (-5, -52.5)
  point P1 (-41, -13.6)
  point P2 (-41, -21)
  point P3 (-64.6, 10)
  point P4 (-72, 10)
  point P5 (-10, 10)
  point P6 (0, 10)
  dimension "d144" = 47.2
  dimension "d145" = 47.2
  dimension "d146" = 62
  dimension "d147" = 62
  dimension "d148" = 15
  dimension "d149" = 35
  dimension "d150" = 4.5
  dimension "d151" = 4.5
  dimension "d152" = 4.5
  dimension "d153" = 4.5
extrude "Extrusion25" cut sketch "Sketch30" against normal through all
sketch "Sketch31" plane through (5, 19.8425, 52.5) normal (0, -1, 0) x (1, 0, 0)
  circle A0 centre (-41, 10) radius 17.5 projected
  circle A1 centre (-41, 10) radius 5
  point P0 (-5, -52.5)
  dimension "d156" = 10
extrude "Extrusion26" add sketch "Sketch31" against normal blind 2
sketch "Sketch32" plane through (0, 0, 0) normal (0, 0, -1) x (-1, 0, 0)
  arc A0 (0, 5) -> (93.0733, 45) centre (-4.9972, 144.9108) ccw projected
  line L0 (0, 5) -> (0, 0)
  line L1 (0, 0) -> (93.0733, 0)
  line L2 (93.0733, 0) -> (93.0733, 45)
  point P0 (0, 0)
  dimension "d159" = 5
extrude "Extrusion27" cut sketch "Sketch32" against normal through all
sketch "Sketch33" plane through (10, 0, 125) normal (1, 0, 0) x (0, 0, -1)
  line L0 (105, -10) -> (20, -10) projected
  line L1 (105, 0) -> (105, -10) projected
  line L2 (20, -10) -> (20, 0) projected
  line L3 (25, 0) -> (25, -5) construction
  line L4 (25, -5) -> (100, -5) construction
  line L5 (100, -5) -> (100, 0) construction
  line L6 (25, 50) -> (25, 6.7252) projected
  line L7 (100, 0) -> (25, 0) construction
  line L8 (25, 0) -> (25, 19.8425)
  line L9 (25, 19.8425) -> (100, 19.8425)
  line L10 (100, 19.8425) -> (100, 0)
  line L11 (52.5, 19.8425) -> (72.5, 19.8425) projected
  line L12 (100, 0) -> (100, -5)
  line L13 (100, -5) -> (25, -5)
  line L14 (25, -5) -> (25, 0)
  point P0 (125, 0)
  point P1 (62.5, 19.8425)
  dimension "d162" = 5
extrude "Extrusion28" cut sketch "Sketch33" against normal through all
sketch "Sketch34" plane through (5, 19.8425, 42.505) normal (0, -1, 0) x (1, 0, 0)
  circle A0 centre (-17.4, -3.605) radius 2.25 projected
  arc A1 (-62.9148, -5.0958) -> (-62.9148, -2.1142) centre (-64.6, -3.605) ccw projected
  circle A2 centre (-17.4, 43.595) radius 2.25 projected
  arc A3 (-62.9148, 42.1042) -> (-62.9148, 45.0858) centre (-64.6, 43.595) ccw projected
  circle A4 centre (-17.4, -3.605) radius 4
  circle A5 centre (-64.6, -3.605) radius 4
  circle A6 centre (-64.6, 43.595) radius 4
  circle A7 centre (-17.4, 43.595) radius 2.25 projected
  circle A8 centre (-17.4, 43.595) radius 4
  point P0 (-5, -42.505)
  dimension "d165" = 8
  dimension "d166" = 8
  dimension "d167" = 8
  dimension "d168" = 8
extrude "Extrusion29" cut sketch "Sketch34" against normal blind 3 contours A0 | A2 | A4 | A5 | A6 | A8
sketch "Sketch35" plane through (5, 19.8425, 42.505) normal (0, -1, 0) x (1, 0, 0)
  circle A0 centre (-22.4695, -15.005) radius 2.5 projected
  circle A1 centre (-22.4695, 54.995) radius 2.5 projected
  circle A2 centre (-22.4695, -15.005) radius 6.5
  circle A3 centre (-22.4695, 54.995) radius 6.5
  point P0 (-5, -42.505)
  point P1 (-22.4695, -17.505)
  point P2 (-22.4695, 57.495)
  dimension "d171" = 13
  dimension "d172" = 13
extrude "Extrusion30" cut sketch "Sketch35" along normal through all
sketch "Sketch36" plane through (5, 19.8425, 42.505) normal (0, -1, 0) x (1, 0, 0)
  circle A0 centre (-22.4695, -15.005) radius 2.5 projected
  circle A1 centre (-22.4695, -15.005) radius 6.5
  circle A2 centre (-22.4695, 54.995) radius 2.5 projected
  circle A3 centre (-22.4695, 54.995) radius 6.5
  arc A4 (-16.4695, 57.495) -> (-28.4695, 57.495) centre (-22.4695, 54.995) ccw projected
  arc A5 (-28.4695, -17.505) -> (-16.4695, -17.505) centre (-22.4695, -15.005) ccw projected
  circle A6 centre (-72.4695, 54.995) radius 2.5 projected
  circle A7 centre (-72.4695, 54.995) radius 6.5
  circle A8 centre (-72.4695, -15.005) radius 6.5
  circle A9 centre (-72.4695, -15.005) radius 2.5 projected
  point P0 (-5, -42.505)
  point P1 (-74.9695, -15.005)
  point P2 (-74.9695, 54.995)
  dimension "d175" = 13
  dimension "d176" = 13
  dimension "d179" = 13
  dimension "d180" = 13
extrude "Extrusion31" cut sketch "Sketch36" against normal blind 3 contours A1 | A3 | A6 | A9
sketch "Sketch37" plane through (10, 50, 52.5) normal (0, 1, 0) x (1, 0, 0)
  line L0 (0, -72.5) -> (-112.4695, -72.5) projected
  line L1 (0, -72.5) -> (-10, -72.5)
  line L2 (-10, -72.5) -> (-10, 52.5)
  line L3 (-10, 52.5) -> (0, 52.5)
  line L4 (0, 52.5) -> (0, -72.5)
extrude "Extrusion32" add sketch "Sketch37" against normal blind 5
properties part number "SJ004" material "ABS Plastic"
